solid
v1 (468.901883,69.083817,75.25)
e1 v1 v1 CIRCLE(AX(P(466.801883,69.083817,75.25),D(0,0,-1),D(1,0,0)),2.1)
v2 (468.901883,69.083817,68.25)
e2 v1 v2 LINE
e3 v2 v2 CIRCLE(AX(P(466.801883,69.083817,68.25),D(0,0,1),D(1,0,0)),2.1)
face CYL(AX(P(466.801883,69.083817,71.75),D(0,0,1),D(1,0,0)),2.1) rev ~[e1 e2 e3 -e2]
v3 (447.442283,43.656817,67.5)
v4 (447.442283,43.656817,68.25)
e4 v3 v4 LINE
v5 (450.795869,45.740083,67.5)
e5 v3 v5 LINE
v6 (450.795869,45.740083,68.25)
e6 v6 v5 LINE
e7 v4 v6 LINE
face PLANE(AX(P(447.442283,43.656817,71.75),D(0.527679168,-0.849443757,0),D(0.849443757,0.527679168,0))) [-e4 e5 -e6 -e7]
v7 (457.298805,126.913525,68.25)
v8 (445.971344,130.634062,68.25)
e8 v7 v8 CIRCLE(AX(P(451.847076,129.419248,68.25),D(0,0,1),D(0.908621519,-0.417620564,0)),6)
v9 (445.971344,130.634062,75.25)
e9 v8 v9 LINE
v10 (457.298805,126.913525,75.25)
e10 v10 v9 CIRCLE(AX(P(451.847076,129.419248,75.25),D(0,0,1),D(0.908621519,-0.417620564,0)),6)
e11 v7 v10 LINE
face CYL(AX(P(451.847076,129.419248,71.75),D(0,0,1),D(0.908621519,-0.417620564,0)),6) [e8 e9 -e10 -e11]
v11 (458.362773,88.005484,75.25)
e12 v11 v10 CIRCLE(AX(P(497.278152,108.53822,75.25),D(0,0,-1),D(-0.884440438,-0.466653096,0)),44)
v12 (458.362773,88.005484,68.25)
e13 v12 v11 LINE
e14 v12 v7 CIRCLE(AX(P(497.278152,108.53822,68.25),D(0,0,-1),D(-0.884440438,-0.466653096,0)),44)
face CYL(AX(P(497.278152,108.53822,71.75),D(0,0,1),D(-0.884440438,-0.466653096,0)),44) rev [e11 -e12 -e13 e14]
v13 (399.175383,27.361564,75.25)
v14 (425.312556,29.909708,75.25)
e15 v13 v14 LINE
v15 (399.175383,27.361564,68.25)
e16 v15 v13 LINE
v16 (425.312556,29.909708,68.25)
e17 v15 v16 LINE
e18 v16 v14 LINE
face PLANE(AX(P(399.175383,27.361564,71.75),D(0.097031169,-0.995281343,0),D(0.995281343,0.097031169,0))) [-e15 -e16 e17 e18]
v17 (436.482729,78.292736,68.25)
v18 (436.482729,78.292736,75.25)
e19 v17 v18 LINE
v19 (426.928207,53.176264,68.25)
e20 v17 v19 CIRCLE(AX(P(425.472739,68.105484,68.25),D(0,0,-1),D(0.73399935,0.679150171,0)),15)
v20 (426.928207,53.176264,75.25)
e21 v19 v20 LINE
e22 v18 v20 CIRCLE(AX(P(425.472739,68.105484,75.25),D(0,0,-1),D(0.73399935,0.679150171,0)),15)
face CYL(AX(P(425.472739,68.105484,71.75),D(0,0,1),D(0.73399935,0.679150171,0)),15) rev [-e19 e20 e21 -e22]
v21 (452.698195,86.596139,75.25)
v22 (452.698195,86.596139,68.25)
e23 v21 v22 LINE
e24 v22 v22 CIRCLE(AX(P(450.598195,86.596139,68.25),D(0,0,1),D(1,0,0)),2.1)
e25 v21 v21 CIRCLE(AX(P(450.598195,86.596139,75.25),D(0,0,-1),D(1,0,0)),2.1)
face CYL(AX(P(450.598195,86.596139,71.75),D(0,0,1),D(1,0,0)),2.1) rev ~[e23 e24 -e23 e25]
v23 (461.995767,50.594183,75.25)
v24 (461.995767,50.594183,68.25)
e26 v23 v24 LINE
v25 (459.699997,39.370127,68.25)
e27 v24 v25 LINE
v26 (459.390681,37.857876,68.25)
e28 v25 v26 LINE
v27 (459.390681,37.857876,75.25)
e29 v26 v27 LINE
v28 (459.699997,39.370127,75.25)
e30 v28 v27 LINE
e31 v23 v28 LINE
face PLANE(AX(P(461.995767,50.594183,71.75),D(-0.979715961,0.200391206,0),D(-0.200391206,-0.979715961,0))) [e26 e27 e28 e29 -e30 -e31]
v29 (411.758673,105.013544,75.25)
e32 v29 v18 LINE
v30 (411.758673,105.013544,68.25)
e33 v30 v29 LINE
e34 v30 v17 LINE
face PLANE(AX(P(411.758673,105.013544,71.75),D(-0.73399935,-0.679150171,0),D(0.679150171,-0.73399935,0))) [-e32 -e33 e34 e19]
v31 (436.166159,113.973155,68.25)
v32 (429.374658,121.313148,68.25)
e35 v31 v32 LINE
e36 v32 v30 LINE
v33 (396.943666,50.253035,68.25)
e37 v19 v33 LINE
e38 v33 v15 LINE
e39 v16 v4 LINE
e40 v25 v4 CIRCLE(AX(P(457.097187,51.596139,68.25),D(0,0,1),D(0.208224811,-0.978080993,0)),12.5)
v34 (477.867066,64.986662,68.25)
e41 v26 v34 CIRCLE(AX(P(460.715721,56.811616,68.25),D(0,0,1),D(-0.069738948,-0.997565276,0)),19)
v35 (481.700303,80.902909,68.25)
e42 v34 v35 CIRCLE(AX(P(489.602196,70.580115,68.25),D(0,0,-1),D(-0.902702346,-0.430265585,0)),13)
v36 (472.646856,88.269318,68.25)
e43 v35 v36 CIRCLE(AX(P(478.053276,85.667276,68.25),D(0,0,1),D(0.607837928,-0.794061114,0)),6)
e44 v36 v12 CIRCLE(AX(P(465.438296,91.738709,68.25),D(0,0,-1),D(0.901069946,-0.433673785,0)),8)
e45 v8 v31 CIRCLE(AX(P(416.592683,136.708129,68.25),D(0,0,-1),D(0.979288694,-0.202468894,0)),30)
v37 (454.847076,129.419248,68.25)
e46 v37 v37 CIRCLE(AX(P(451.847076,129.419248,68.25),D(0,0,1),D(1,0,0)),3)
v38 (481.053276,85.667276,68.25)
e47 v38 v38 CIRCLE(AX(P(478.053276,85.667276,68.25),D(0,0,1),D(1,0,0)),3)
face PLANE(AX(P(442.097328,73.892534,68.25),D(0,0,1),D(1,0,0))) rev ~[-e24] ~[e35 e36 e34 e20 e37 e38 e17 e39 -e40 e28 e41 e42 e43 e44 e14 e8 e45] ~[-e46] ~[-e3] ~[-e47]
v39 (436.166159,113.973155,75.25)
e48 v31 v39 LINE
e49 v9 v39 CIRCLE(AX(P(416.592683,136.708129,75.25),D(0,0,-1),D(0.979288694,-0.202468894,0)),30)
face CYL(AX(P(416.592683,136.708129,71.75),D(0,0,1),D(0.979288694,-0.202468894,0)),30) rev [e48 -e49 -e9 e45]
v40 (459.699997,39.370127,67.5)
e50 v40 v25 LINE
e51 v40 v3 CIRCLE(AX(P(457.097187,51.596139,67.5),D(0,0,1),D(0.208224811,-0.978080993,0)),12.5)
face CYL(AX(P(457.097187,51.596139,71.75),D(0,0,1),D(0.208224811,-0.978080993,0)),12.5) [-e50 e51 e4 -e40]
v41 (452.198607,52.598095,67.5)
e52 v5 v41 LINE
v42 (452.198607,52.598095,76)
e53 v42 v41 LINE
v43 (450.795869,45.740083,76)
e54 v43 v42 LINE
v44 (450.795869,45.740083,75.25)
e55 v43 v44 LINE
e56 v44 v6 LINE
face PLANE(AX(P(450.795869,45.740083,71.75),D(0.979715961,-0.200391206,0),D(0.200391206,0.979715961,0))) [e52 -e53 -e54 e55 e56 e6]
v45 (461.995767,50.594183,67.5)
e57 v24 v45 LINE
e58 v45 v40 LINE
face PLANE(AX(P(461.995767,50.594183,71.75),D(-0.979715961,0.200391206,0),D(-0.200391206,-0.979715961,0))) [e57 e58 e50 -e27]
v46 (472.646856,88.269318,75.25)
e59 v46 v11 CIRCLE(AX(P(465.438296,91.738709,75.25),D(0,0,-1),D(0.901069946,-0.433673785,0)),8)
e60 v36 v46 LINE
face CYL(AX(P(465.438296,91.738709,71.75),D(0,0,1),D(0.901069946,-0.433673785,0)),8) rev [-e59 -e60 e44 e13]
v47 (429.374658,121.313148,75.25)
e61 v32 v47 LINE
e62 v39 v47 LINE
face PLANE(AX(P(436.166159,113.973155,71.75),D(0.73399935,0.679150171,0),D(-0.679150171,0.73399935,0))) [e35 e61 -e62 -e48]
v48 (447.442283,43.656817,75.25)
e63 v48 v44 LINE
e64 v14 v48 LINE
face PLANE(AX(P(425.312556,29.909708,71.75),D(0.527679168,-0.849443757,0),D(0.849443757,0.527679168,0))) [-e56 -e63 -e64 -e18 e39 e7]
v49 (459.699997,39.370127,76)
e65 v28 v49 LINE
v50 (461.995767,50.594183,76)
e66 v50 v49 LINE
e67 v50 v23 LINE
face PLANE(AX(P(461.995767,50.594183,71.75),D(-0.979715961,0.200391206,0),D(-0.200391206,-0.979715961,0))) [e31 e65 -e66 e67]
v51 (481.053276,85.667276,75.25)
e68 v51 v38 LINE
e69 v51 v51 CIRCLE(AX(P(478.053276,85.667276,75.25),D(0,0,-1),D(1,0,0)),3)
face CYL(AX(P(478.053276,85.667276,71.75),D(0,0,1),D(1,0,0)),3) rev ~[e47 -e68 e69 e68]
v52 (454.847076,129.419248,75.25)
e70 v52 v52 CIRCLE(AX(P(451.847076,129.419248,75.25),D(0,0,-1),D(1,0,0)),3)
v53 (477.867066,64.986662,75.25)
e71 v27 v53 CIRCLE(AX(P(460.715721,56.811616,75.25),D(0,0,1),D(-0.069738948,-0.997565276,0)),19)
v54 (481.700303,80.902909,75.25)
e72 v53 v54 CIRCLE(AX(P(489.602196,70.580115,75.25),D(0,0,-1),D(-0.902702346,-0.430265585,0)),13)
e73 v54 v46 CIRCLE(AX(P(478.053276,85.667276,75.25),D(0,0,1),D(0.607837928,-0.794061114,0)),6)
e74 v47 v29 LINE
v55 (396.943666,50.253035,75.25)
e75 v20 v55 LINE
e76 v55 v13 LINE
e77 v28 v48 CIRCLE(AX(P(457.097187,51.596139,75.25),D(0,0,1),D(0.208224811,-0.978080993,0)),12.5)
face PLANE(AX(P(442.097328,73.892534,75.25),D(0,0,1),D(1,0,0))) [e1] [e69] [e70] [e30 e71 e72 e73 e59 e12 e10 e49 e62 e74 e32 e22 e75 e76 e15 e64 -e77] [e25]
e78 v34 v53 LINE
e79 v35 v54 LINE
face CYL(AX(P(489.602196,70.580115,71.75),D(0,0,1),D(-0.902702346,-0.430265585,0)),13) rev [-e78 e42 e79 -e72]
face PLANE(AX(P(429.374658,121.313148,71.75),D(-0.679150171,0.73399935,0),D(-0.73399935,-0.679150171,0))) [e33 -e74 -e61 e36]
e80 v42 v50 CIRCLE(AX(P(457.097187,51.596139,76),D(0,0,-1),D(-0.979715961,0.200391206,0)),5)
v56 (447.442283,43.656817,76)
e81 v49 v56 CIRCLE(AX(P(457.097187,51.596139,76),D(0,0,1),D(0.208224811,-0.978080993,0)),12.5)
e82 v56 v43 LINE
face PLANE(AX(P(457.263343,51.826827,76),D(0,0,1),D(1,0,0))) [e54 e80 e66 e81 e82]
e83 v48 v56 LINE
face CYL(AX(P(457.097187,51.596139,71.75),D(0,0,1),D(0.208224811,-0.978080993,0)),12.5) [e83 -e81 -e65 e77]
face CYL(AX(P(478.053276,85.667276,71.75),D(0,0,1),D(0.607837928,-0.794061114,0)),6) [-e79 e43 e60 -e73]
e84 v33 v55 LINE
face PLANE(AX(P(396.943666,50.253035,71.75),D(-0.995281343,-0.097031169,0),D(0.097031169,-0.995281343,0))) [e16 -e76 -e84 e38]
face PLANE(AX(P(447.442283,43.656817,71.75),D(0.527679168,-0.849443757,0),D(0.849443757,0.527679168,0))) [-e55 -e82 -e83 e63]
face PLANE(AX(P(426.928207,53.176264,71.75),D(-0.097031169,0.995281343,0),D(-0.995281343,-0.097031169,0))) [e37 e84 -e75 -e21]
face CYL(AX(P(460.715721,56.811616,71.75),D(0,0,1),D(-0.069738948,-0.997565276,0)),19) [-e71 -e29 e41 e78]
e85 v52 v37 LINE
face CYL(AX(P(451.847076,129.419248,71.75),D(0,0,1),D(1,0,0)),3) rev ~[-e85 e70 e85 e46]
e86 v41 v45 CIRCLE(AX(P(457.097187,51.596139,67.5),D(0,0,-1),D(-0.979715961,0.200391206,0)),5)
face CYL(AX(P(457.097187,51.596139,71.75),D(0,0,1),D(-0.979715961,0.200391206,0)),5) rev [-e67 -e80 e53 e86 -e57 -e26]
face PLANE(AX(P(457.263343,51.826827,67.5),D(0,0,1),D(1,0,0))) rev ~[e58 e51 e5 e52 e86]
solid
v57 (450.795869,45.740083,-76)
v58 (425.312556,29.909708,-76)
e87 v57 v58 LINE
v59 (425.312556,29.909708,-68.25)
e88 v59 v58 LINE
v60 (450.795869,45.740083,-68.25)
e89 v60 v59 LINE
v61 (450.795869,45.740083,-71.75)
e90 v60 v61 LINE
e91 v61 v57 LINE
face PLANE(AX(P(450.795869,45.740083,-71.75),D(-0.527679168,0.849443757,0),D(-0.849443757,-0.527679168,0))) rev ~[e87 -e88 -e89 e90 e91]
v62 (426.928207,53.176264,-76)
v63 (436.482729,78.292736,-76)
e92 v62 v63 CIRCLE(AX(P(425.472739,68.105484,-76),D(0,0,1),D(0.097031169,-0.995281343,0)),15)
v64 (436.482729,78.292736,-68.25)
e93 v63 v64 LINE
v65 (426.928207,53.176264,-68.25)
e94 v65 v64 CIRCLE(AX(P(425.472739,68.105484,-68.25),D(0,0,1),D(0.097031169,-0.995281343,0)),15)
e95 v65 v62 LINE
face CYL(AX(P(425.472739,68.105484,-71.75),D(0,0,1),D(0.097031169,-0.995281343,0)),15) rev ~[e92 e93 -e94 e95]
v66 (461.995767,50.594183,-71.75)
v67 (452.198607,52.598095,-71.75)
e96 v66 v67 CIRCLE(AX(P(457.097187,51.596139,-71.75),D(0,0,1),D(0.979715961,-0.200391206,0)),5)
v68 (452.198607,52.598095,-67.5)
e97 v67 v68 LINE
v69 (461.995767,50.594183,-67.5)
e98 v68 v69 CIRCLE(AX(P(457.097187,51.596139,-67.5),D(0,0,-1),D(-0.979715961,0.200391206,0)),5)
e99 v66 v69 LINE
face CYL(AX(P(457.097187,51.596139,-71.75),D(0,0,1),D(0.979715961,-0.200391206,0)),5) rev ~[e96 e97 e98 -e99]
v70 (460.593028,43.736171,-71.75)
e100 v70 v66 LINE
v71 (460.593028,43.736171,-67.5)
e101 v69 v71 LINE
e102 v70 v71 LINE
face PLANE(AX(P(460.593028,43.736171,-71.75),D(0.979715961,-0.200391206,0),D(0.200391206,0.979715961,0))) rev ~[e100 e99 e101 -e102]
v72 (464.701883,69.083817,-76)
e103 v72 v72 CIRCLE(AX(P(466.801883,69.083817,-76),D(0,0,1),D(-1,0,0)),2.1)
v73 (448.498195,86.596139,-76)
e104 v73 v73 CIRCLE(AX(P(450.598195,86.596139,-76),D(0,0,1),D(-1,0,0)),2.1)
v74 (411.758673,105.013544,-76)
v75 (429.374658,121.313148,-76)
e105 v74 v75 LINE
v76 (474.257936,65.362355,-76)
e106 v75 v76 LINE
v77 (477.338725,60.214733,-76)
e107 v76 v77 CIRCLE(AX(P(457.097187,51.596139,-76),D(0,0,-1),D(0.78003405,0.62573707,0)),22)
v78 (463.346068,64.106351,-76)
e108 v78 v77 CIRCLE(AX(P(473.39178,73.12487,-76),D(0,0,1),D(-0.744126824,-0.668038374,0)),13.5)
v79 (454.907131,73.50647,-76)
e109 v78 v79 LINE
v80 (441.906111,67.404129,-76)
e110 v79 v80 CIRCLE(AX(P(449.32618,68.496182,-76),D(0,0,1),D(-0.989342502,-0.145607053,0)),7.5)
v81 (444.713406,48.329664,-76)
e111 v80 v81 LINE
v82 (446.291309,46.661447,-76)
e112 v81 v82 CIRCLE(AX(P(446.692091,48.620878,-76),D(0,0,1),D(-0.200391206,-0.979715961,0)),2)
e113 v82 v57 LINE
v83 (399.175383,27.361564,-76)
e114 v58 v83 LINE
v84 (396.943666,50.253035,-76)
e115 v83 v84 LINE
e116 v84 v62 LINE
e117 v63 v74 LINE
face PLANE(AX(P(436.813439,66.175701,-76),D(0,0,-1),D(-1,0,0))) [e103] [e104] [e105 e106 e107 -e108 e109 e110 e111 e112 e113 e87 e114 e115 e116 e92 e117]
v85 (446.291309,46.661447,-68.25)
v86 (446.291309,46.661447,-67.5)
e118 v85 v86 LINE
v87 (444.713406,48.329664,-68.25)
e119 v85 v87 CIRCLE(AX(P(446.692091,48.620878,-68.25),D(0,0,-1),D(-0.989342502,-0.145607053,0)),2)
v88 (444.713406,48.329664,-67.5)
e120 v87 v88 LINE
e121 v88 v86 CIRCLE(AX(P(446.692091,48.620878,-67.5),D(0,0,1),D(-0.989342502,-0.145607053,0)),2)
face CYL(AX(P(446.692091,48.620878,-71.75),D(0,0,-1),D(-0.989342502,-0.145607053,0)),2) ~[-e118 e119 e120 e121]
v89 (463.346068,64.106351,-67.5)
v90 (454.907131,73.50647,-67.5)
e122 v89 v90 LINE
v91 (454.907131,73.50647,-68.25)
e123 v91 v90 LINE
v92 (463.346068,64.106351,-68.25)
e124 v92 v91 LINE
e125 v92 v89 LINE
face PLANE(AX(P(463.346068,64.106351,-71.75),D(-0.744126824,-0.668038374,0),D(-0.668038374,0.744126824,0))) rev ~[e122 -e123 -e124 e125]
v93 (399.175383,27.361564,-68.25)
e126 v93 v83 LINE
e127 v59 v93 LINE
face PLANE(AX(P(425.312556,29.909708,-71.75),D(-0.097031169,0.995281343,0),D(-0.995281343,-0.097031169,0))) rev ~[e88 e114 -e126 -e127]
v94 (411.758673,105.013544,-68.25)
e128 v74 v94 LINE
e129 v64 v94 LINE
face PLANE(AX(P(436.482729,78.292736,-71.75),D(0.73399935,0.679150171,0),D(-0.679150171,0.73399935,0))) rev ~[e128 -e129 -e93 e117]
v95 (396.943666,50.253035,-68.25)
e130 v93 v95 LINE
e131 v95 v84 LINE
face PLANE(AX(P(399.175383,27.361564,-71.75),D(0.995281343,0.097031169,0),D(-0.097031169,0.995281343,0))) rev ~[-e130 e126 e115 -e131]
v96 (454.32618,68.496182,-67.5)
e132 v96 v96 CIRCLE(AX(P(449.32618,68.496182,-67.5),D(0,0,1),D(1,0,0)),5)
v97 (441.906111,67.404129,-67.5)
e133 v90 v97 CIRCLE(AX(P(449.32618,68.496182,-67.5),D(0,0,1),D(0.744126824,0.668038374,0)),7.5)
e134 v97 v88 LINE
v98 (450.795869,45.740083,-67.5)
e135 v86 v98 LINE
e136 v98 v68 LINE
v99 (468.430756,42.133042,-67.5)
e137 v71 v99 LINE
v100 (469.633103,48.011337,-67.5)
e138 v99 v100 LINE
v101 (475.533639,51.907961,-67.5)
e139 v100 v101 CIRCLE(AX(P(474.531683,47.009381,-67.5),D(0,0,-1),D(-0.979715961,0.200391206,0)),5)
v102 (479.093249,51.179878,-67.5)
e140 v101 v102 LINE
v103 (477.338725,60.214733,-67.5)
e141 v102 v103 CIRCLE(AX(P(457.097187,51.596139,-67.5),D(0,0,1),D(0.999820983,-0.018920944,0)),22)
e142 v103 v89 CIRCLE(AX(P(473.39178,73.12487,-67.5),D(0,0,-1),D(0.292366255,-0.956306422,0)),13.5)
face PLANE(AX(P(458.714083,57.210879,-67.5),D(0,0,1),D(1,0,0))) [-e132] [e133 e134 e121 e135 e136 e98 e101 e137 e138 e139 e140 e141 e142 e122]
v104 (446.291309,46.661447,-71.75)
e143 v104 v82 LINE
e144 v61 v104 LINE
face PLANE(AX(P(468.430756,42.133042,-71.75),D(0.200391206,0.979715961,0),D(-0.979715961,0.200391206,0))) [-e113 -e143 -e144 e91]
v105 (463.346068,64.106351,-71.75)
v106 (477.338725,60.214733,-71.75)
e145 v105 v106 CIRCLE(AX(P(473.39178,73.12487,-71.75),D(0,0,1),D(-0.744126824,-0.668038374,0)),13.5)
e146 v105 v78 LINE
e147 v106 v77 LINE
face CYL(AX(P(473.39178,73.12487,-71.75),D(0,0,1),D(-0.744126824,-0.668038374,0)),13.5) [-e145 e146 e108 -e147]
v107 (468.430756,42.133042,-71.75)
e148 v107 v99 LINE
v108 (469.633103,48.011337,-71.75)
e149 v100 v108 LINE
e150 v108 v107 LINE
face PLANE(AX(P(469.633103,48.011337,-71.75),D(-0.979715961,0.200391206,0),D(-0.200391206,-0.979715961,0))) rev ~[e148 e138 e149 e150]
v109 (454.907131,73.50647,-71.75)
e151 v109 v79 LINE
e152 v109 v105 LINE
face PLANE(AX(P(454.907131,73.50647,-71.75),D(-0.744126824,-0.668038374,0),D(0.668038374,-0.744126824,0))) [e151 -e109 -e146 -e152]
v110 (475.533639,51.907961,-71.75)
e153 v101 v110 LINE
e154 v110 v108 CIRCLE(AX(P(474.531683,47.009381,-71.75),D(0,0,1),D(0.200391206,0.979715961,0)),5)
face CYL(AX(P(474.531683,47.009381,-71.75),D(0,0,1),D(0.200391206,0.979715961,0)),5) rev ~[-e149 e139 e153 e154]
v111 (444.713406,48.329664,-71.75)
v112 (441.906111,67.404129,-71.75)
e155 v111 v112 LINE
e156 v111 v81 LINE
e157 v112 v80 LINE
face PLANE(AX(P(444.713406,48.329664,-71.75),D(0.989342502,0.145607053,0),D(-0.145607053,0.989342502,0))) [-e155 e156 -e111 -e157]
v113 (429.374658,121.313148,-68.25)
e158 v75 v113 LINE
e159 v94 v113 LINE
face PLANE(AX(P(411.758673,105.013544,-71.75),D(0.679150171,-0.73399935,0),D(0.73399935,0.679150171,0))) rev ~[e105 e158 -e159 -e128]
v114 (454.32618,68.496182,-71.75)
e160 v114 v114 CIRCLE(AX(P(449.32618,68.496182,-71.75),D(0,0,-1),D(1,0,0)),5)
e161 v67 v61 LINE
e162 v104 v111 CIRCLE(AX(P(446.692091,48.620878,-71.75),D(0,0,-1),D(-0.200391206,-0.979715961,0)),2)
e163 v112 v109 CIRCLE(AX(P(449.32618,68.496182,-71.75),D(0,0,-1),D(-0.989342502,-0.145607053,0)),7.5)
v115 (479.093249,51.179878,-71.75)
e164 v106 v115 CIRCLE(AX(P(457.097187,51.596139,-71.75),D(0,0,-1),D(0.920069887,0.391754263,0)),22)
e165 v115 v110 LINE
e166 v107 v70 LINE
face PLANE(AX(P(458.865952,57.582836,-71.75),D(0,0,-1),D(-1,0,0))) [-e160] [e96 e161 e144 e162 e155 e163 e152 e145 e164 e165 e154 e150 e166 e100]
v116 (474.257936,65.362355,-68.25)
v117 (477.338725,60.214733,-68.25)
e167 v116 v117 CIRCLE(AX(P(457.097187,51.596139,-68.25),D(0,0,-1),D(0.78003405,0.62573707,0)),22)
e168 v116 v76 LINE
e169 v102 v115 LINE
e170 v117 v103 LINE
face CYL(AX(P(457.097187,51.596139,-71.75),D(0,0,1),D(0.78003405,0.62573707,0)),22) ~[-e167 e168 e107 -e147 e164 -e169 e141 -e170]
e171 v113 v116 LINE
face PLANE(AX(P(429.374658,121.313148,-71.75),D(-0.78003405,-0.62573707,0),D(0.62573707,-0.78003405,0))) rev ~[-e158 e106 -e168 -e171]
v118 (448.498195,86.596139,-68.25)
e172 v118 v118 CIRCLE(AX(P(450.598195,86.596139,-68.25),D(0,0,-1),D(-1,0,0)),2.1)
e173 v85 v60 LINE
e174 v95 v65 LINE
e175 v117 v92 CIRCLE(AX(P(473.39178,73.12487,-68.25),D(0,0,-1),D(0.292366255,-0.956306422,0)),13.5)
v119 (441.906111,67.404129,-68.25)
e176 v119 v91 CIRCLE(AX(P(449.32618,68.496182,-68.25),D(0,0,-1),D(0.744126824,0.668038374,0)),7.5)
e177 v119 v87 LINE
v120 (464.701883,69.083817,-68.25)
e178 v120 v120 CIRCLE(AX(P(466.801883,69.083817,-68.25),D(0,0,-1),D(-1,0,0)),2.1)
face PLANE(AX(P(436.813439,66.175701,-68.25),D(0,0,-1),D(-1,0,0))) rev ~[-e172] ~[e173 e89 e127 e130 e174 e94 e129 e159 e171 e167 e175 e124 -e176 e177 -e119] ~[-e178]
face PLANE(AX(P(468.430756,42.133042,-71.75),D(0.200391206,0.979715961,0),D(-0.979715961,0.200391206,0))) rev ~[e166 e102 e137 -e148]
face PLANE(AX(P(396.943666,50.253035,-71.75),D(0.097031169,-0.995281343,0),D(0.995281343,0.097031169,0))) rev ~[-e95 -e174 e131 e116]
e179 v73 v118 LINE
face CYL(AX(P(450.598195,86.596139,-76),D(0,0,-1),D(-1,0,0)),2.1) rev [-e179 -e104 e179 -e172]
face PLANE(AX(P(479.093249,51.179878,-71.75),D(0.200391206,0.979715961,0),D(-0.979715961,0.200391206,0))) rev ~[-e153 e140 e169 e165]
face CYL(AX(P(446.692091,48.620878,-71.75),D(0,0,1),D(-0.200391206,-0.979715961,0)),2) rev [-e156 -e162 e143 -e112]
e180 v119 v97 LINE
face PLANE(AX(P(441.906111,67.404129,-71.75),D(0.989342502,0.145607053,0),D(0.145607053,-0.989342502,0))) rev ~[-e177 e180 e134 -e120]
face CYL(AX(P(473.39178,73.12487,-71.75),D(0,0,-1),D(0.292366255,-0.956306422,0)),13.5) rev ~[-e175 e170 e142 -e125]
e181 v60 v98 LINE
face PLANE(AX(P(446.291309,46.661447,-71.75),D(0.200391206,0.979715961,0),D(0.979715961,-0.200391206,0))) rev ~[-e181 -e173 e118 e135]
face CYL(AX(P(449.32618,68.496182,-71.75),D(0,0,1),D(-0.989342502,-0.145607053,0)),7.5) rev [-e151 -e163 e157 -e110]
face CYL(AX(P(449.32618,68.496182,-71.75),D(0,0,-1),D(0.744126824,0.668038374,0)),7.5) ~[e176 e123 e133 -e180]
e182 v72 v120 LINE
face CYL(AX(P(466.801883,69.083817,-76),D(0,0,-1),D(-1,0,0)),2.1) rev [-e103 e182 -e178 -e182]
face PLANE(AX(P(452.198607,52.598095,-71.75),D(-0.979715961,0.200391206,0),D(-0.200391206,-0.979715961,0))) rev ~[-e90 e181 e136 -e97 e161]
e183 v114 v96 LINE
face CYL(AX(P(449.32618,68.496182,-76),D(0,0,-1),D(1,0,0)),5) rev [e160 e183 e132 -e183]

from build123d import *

# Parameters (mm, degrees)
EXTRUSION8_DEPTH             = 3.5
ESQUISSE25_R                 = 2.1
ESQUISSE25_R_2               = 3
ENL_V_MAT_EXTRU_7_DEPTH      = 4.5
ENL_V_MAT_EXTRU_7_DEPTH_BACK = 4.5
EXTRUSION9_DEPTH             = 4.25
EXTRUSION10_DEPTH            = 3.5
EXTRUSION10_DEPTH_BACK       = 4.25
ENL_V_MAT_EXTRU_8_DEPTH      = 5.25
EXTRUSION11_DEPTH            = 4.25
ENL_V_START                  = -4.25
ESQUISSE29_R                 = 5
ESQUISSE29_R_2               = 2.1
ENL_V_MAT_EXTRU_9_DEPTH      = 8.5


with BuildPart() as part:
    # Esquisse24 → Extrusion8 (new body, symmetric)
    with BuildSketch(Plane.XY.offset(71.75)):
        with BuildLine():
            Line((461.995766883, 50.594183039), (459.390681209, 37.857875543))
            ThreePointArc((459.390681209, 37.857875543), (476.419566024, 46.116324353), (477.86706581, 64.986661902))
            ThreePointArc((477.86706581, 64.986661902), (476.963568853, 73.623976526), (481.700303248, 80.902908999))
            ThreePointArc((481.700303248, 80.902908999), (481.840076705, 90.321321022), (472.646856003, 88.269318395))
            ThreePointArc((472.646856003, 88.269318395), (465.58603542, 83.740072967), (458.362772931, 88.005483904))
            ThreePointArc((458.362772931, 88.005483904), (453.294594284, 107.335459009), (457.298805353, 126.913524952))
            ThreePointArc((457.298805353, 126.913524952), (453.719385793, 135.119639281), (445.971344073, 130.634061698))
            ThreePointArc((445.971344073, 130.634061698), (442.447554772, 121.492162619), (436.166159284, 113.97315467))
            Line((436.166159284, 113.97315467), (429.374657578, 121.313148169))
            Line((429.374657578, 121.313148169), (411.758673179, 105.013544073))
            Line((411.758673179, 105.013544073), (436.482729278, 78.292736383))
            ThreePointArc((436.482729278, 78.292736383), (439.492589592, 62.772211826), (426.92820657, 53.176263674))
            Line((426.92820657, 53.176263674), (396.943666221, 50.253034947))
            Line((396.943666221, 50.253034947), (399.175383117, 27.361564053))
            Line((399.175383117, 27.361564053), (425.312556128, 29.909708333))
            Line((425.312556128, 29.909708333), (450.795868831, 45.740083367))
            Line((450.795868831, 45.740083367), (452.19860727, 52.598095095))
            ThreePointArc((452.19860727, 52.598095095), (458.099143105, 56.494718873), (461.995766883, 50.594183039))
        make_face()
    extrude(amount=EXTRUSION8_DEPTH, both=True)

    # Esquisse25 → Enlèv. mat.-Extru.7 (cut, two sides)
    with BuildSketch(Plane.XY.offset(71.75)) as enl_v_mat_extru_7_sk:
        with Locations((466.801883269, 69.083816781)):
            Circle(ESQUISSE25_R)
        with Locations((451.847076239, 129.419248335)):
            Circle(ESQUISSE25_R_2)
        with Locations((450.598194981, 86.596139067)):
            Circle(ESQUISSE25_R)
        with Locations((478.053275681, 85.667275685)):
            Circle(ESQUISSE25_R_2)
    extrude(amount=ENL_V_MAT_EXTRU_7_DEPTH, mode=Mode.SUBTRACT)
    extrude(enl_v_mat_extru_7_sk.sketch, amount=-ENL_V_MAT_EXTRU_7_DEPTH_BACK, mode=Mode.SUBTRACT)

    # Esquisse26 → Extrusion9 (add, symmetric)
    with BuildSketch(Plane.XY.offset(71.75)):
        with BuildLine():
            Line((461.995766883, 50.594183039), (459.699997211, 39.370126659))
            ThreePointArc((459.699997211, 39.370126659), (461.22355789, 63.395421414), (447.442283114, 43.65681734))
            Line((447.442283114, 43.65681734), (450.795868831, 45.740083367))
            Line((450.795868831, 45.740083367), (452.19860727, 52.598095095))
            ThreePointArc((452.19860727, 52.598095095), (458.099143105, 56.494718873), (461.995766883, 50.594183039))
        make_face()
    extrude(amount=EXTRUSION9_DEPTH, both=True)


with BuildPart() as body_2:
    # Esquisse27 → Extrusion10 (new body, two sides)
    with BuildSketch(Plane.XY.offset(-71.75)) as extrusion10_sk:
        with BuildLine():
            Line((429.374657578, 121.313148169), (474.257936186, 65.362354597))
            ThreePointArc((474.257936186, 65.362354597), (477.920241971, 58.695461914), (479.093248701, 51.179878309))
            Line((479.093248701, 51.179878309), (475.533639201, 51.90796121))
            ThreePointArc((475.533639201, 51.90796121), (471.776354076, 51.181690305), (469.633103367, 48.011337432))
            Line((469.633103367, 48.011337432), (468.430756133, 42.133041665))
            Line((468.430756133, 42.133041665), (460.593028443, 43.73617131))
            Line((460.593028443, 43.73617131), (461.995766883, 50.594183039))
            ThreePointArc((461.995766883, 50.594183039), (458.099143105, 56.494718873), (452.19860727, 52.598095095))
            Line((452.19860727, 52.598095095), (450.795868831, 45.740083367))
            Line((450.795868831, 45.740083367), (425.312556128, 29.909708333))
            Line((425.312556128, 29.909708333), (399.175383117, 27.361564053))
            Line((399.175383117, 27.361564053), (396.943666221, 50.253034947))
            Line((396.943666221, 50.253034947), (426.92820657, 53.176263674))
            ThreePointArc((426.92820657, 53.176263674), (439.492589592, 62.772211826), (436.482729278, 78.292736383))
            Line((436.482729278, 78.292736383), (411.758673179, 105.013544073))
            Line((411.758673179, 105.013544073), (429.374657578, 121.313148169))
        make_face()
    extrude(amount=EXTRUSION10_DEPTH)
    extrude(extrusion10_sk.sketch, amount=-EXTRUSION10_DEPTH_BACK)

    # Esquisse31 → Enlèv. mat.-Extru.8 (cut, through all)
    with BuildSketch(Plane.XY.offset(-71.75)):
        with BuildLine():
            Line((444.713406132, 48.32966438), (441.906110824, 67.404128849))
            ThreePointArc((441.906110824, 67.404128849), (446.1394526, 75.285494755), (454.907130769, 73.506469556))
            Line((454.907130769, 73.506469556), (463.346068037, 64.106351495))
            ThreePointArc((463.346068037, 64.106351495), (469.774472357, 60.118521705), (477.338724598, 60.214732849))
            ThreePointArc((477.338724598, 60.214732849), (478.693734128, 55.790081778), (479.093248701, 51.179878309))
            Line((479.093248701, 51.179878309), (475.533639201, 51.90796121))
            ThreePointArc((475.533639201, 51.90796121), (471.776354076, 51.181690305), (469.633103367, 48.011337432))
            Line((469.633103367, 48.011337432), (468.430756133, 42.133041665))
            Line((468.430756133, 42.133041665), (446.291308724, 46.661446564))
            ThreePointArc((446.291308724, 46.661446564), (445.239092868, 47.246543726), (444.713406132, 48.32966438))
        make_face()
    extrude(amount=-ENL_V_MAT_EXTRU_8_DEPTH, mode=Mode.SUBTRACT)

    # Esquisse32 → Extrusion11 (add)
    with BuildSketch(Plane.XY.offset(-71.75)):
        with BuildLine():
            Line((446.291308724, 46.661446564), (450.795868831, 45.740083367))
            Line((450.795868831, 45.740083367), (452.19860727, 52.598095095))
            ThreePointArc((452.19860727, 52.598095095), (458.099143105, 56.494718873), (461.995766883, 50.594183039))
            Line((461.995766883, 50.594183039), (460.593028443, 43.73617131))
            Line((460.593028443, 43.73617131), (468.430756133, 42.133041665))
            Line((468.430756133, 42.133041665), (469.633103367, 48.011337432))
            ThreePointArc((469.633103367, 48.011337432), (471.776354076, 51.181690305), (475.533639201, 51.90796121))
            Line((475.533639201, 51.90796121), (479.093248701, 51.179878309))
            ThreePointArc((479.093248701, 51.179878309), (478.693734128, 55.790081778), (477.338724598, 60.214732849))
            ThreePointArc((477.338724598, 60.214732849), (469.774472357, 60.118521705), (463.346068037, 64.106351495))
            Line((463.346068037, 64.106351495), (454.907130769, 73.506469556))
            ThreePointArc((454.907130769, 73.506469556), (446.1394526, 75.285494755), (441.906110824, 67.404128849))
            Line((441.906110824, 67.404128849), (444.713406132, 48.32966438))
            ThreePointArc((444.713406132, 48.32966438), (445.239092868, 47.246543726), (446.291308724, 46.661446564))
        make_face()
    extrude(amount=EXTRUSION11_DEPTH)

    # Esquisse29 → Enlèv. mat.-Extru.9 (cut)
    with BuildSketch(Plane.XY.offset(-71.75).offset(ENL_V_START)):
        with Locations((449.326179588, 68.496181748)):
            Circle(ESQUISSE29_R)
        with Locations(Location((466.801883269, 69.083816781, 0), (0, 0, 180))):  # turned: the seam where the file's is
            Circle(ESQUISSE29_R_2)
        with Locations(Location((450.598194981, 86.596139067, 0), (0, 0, 180))):  # turned: the seam where the file's is
            Circle(ESQUISSE29_R_2)
    extrude(amount=ENL_V_MAT_EXTRU_9_DEPTH, mode=Mode.SUBTRACT)


solid = Compound([part.part, body_2.part])
